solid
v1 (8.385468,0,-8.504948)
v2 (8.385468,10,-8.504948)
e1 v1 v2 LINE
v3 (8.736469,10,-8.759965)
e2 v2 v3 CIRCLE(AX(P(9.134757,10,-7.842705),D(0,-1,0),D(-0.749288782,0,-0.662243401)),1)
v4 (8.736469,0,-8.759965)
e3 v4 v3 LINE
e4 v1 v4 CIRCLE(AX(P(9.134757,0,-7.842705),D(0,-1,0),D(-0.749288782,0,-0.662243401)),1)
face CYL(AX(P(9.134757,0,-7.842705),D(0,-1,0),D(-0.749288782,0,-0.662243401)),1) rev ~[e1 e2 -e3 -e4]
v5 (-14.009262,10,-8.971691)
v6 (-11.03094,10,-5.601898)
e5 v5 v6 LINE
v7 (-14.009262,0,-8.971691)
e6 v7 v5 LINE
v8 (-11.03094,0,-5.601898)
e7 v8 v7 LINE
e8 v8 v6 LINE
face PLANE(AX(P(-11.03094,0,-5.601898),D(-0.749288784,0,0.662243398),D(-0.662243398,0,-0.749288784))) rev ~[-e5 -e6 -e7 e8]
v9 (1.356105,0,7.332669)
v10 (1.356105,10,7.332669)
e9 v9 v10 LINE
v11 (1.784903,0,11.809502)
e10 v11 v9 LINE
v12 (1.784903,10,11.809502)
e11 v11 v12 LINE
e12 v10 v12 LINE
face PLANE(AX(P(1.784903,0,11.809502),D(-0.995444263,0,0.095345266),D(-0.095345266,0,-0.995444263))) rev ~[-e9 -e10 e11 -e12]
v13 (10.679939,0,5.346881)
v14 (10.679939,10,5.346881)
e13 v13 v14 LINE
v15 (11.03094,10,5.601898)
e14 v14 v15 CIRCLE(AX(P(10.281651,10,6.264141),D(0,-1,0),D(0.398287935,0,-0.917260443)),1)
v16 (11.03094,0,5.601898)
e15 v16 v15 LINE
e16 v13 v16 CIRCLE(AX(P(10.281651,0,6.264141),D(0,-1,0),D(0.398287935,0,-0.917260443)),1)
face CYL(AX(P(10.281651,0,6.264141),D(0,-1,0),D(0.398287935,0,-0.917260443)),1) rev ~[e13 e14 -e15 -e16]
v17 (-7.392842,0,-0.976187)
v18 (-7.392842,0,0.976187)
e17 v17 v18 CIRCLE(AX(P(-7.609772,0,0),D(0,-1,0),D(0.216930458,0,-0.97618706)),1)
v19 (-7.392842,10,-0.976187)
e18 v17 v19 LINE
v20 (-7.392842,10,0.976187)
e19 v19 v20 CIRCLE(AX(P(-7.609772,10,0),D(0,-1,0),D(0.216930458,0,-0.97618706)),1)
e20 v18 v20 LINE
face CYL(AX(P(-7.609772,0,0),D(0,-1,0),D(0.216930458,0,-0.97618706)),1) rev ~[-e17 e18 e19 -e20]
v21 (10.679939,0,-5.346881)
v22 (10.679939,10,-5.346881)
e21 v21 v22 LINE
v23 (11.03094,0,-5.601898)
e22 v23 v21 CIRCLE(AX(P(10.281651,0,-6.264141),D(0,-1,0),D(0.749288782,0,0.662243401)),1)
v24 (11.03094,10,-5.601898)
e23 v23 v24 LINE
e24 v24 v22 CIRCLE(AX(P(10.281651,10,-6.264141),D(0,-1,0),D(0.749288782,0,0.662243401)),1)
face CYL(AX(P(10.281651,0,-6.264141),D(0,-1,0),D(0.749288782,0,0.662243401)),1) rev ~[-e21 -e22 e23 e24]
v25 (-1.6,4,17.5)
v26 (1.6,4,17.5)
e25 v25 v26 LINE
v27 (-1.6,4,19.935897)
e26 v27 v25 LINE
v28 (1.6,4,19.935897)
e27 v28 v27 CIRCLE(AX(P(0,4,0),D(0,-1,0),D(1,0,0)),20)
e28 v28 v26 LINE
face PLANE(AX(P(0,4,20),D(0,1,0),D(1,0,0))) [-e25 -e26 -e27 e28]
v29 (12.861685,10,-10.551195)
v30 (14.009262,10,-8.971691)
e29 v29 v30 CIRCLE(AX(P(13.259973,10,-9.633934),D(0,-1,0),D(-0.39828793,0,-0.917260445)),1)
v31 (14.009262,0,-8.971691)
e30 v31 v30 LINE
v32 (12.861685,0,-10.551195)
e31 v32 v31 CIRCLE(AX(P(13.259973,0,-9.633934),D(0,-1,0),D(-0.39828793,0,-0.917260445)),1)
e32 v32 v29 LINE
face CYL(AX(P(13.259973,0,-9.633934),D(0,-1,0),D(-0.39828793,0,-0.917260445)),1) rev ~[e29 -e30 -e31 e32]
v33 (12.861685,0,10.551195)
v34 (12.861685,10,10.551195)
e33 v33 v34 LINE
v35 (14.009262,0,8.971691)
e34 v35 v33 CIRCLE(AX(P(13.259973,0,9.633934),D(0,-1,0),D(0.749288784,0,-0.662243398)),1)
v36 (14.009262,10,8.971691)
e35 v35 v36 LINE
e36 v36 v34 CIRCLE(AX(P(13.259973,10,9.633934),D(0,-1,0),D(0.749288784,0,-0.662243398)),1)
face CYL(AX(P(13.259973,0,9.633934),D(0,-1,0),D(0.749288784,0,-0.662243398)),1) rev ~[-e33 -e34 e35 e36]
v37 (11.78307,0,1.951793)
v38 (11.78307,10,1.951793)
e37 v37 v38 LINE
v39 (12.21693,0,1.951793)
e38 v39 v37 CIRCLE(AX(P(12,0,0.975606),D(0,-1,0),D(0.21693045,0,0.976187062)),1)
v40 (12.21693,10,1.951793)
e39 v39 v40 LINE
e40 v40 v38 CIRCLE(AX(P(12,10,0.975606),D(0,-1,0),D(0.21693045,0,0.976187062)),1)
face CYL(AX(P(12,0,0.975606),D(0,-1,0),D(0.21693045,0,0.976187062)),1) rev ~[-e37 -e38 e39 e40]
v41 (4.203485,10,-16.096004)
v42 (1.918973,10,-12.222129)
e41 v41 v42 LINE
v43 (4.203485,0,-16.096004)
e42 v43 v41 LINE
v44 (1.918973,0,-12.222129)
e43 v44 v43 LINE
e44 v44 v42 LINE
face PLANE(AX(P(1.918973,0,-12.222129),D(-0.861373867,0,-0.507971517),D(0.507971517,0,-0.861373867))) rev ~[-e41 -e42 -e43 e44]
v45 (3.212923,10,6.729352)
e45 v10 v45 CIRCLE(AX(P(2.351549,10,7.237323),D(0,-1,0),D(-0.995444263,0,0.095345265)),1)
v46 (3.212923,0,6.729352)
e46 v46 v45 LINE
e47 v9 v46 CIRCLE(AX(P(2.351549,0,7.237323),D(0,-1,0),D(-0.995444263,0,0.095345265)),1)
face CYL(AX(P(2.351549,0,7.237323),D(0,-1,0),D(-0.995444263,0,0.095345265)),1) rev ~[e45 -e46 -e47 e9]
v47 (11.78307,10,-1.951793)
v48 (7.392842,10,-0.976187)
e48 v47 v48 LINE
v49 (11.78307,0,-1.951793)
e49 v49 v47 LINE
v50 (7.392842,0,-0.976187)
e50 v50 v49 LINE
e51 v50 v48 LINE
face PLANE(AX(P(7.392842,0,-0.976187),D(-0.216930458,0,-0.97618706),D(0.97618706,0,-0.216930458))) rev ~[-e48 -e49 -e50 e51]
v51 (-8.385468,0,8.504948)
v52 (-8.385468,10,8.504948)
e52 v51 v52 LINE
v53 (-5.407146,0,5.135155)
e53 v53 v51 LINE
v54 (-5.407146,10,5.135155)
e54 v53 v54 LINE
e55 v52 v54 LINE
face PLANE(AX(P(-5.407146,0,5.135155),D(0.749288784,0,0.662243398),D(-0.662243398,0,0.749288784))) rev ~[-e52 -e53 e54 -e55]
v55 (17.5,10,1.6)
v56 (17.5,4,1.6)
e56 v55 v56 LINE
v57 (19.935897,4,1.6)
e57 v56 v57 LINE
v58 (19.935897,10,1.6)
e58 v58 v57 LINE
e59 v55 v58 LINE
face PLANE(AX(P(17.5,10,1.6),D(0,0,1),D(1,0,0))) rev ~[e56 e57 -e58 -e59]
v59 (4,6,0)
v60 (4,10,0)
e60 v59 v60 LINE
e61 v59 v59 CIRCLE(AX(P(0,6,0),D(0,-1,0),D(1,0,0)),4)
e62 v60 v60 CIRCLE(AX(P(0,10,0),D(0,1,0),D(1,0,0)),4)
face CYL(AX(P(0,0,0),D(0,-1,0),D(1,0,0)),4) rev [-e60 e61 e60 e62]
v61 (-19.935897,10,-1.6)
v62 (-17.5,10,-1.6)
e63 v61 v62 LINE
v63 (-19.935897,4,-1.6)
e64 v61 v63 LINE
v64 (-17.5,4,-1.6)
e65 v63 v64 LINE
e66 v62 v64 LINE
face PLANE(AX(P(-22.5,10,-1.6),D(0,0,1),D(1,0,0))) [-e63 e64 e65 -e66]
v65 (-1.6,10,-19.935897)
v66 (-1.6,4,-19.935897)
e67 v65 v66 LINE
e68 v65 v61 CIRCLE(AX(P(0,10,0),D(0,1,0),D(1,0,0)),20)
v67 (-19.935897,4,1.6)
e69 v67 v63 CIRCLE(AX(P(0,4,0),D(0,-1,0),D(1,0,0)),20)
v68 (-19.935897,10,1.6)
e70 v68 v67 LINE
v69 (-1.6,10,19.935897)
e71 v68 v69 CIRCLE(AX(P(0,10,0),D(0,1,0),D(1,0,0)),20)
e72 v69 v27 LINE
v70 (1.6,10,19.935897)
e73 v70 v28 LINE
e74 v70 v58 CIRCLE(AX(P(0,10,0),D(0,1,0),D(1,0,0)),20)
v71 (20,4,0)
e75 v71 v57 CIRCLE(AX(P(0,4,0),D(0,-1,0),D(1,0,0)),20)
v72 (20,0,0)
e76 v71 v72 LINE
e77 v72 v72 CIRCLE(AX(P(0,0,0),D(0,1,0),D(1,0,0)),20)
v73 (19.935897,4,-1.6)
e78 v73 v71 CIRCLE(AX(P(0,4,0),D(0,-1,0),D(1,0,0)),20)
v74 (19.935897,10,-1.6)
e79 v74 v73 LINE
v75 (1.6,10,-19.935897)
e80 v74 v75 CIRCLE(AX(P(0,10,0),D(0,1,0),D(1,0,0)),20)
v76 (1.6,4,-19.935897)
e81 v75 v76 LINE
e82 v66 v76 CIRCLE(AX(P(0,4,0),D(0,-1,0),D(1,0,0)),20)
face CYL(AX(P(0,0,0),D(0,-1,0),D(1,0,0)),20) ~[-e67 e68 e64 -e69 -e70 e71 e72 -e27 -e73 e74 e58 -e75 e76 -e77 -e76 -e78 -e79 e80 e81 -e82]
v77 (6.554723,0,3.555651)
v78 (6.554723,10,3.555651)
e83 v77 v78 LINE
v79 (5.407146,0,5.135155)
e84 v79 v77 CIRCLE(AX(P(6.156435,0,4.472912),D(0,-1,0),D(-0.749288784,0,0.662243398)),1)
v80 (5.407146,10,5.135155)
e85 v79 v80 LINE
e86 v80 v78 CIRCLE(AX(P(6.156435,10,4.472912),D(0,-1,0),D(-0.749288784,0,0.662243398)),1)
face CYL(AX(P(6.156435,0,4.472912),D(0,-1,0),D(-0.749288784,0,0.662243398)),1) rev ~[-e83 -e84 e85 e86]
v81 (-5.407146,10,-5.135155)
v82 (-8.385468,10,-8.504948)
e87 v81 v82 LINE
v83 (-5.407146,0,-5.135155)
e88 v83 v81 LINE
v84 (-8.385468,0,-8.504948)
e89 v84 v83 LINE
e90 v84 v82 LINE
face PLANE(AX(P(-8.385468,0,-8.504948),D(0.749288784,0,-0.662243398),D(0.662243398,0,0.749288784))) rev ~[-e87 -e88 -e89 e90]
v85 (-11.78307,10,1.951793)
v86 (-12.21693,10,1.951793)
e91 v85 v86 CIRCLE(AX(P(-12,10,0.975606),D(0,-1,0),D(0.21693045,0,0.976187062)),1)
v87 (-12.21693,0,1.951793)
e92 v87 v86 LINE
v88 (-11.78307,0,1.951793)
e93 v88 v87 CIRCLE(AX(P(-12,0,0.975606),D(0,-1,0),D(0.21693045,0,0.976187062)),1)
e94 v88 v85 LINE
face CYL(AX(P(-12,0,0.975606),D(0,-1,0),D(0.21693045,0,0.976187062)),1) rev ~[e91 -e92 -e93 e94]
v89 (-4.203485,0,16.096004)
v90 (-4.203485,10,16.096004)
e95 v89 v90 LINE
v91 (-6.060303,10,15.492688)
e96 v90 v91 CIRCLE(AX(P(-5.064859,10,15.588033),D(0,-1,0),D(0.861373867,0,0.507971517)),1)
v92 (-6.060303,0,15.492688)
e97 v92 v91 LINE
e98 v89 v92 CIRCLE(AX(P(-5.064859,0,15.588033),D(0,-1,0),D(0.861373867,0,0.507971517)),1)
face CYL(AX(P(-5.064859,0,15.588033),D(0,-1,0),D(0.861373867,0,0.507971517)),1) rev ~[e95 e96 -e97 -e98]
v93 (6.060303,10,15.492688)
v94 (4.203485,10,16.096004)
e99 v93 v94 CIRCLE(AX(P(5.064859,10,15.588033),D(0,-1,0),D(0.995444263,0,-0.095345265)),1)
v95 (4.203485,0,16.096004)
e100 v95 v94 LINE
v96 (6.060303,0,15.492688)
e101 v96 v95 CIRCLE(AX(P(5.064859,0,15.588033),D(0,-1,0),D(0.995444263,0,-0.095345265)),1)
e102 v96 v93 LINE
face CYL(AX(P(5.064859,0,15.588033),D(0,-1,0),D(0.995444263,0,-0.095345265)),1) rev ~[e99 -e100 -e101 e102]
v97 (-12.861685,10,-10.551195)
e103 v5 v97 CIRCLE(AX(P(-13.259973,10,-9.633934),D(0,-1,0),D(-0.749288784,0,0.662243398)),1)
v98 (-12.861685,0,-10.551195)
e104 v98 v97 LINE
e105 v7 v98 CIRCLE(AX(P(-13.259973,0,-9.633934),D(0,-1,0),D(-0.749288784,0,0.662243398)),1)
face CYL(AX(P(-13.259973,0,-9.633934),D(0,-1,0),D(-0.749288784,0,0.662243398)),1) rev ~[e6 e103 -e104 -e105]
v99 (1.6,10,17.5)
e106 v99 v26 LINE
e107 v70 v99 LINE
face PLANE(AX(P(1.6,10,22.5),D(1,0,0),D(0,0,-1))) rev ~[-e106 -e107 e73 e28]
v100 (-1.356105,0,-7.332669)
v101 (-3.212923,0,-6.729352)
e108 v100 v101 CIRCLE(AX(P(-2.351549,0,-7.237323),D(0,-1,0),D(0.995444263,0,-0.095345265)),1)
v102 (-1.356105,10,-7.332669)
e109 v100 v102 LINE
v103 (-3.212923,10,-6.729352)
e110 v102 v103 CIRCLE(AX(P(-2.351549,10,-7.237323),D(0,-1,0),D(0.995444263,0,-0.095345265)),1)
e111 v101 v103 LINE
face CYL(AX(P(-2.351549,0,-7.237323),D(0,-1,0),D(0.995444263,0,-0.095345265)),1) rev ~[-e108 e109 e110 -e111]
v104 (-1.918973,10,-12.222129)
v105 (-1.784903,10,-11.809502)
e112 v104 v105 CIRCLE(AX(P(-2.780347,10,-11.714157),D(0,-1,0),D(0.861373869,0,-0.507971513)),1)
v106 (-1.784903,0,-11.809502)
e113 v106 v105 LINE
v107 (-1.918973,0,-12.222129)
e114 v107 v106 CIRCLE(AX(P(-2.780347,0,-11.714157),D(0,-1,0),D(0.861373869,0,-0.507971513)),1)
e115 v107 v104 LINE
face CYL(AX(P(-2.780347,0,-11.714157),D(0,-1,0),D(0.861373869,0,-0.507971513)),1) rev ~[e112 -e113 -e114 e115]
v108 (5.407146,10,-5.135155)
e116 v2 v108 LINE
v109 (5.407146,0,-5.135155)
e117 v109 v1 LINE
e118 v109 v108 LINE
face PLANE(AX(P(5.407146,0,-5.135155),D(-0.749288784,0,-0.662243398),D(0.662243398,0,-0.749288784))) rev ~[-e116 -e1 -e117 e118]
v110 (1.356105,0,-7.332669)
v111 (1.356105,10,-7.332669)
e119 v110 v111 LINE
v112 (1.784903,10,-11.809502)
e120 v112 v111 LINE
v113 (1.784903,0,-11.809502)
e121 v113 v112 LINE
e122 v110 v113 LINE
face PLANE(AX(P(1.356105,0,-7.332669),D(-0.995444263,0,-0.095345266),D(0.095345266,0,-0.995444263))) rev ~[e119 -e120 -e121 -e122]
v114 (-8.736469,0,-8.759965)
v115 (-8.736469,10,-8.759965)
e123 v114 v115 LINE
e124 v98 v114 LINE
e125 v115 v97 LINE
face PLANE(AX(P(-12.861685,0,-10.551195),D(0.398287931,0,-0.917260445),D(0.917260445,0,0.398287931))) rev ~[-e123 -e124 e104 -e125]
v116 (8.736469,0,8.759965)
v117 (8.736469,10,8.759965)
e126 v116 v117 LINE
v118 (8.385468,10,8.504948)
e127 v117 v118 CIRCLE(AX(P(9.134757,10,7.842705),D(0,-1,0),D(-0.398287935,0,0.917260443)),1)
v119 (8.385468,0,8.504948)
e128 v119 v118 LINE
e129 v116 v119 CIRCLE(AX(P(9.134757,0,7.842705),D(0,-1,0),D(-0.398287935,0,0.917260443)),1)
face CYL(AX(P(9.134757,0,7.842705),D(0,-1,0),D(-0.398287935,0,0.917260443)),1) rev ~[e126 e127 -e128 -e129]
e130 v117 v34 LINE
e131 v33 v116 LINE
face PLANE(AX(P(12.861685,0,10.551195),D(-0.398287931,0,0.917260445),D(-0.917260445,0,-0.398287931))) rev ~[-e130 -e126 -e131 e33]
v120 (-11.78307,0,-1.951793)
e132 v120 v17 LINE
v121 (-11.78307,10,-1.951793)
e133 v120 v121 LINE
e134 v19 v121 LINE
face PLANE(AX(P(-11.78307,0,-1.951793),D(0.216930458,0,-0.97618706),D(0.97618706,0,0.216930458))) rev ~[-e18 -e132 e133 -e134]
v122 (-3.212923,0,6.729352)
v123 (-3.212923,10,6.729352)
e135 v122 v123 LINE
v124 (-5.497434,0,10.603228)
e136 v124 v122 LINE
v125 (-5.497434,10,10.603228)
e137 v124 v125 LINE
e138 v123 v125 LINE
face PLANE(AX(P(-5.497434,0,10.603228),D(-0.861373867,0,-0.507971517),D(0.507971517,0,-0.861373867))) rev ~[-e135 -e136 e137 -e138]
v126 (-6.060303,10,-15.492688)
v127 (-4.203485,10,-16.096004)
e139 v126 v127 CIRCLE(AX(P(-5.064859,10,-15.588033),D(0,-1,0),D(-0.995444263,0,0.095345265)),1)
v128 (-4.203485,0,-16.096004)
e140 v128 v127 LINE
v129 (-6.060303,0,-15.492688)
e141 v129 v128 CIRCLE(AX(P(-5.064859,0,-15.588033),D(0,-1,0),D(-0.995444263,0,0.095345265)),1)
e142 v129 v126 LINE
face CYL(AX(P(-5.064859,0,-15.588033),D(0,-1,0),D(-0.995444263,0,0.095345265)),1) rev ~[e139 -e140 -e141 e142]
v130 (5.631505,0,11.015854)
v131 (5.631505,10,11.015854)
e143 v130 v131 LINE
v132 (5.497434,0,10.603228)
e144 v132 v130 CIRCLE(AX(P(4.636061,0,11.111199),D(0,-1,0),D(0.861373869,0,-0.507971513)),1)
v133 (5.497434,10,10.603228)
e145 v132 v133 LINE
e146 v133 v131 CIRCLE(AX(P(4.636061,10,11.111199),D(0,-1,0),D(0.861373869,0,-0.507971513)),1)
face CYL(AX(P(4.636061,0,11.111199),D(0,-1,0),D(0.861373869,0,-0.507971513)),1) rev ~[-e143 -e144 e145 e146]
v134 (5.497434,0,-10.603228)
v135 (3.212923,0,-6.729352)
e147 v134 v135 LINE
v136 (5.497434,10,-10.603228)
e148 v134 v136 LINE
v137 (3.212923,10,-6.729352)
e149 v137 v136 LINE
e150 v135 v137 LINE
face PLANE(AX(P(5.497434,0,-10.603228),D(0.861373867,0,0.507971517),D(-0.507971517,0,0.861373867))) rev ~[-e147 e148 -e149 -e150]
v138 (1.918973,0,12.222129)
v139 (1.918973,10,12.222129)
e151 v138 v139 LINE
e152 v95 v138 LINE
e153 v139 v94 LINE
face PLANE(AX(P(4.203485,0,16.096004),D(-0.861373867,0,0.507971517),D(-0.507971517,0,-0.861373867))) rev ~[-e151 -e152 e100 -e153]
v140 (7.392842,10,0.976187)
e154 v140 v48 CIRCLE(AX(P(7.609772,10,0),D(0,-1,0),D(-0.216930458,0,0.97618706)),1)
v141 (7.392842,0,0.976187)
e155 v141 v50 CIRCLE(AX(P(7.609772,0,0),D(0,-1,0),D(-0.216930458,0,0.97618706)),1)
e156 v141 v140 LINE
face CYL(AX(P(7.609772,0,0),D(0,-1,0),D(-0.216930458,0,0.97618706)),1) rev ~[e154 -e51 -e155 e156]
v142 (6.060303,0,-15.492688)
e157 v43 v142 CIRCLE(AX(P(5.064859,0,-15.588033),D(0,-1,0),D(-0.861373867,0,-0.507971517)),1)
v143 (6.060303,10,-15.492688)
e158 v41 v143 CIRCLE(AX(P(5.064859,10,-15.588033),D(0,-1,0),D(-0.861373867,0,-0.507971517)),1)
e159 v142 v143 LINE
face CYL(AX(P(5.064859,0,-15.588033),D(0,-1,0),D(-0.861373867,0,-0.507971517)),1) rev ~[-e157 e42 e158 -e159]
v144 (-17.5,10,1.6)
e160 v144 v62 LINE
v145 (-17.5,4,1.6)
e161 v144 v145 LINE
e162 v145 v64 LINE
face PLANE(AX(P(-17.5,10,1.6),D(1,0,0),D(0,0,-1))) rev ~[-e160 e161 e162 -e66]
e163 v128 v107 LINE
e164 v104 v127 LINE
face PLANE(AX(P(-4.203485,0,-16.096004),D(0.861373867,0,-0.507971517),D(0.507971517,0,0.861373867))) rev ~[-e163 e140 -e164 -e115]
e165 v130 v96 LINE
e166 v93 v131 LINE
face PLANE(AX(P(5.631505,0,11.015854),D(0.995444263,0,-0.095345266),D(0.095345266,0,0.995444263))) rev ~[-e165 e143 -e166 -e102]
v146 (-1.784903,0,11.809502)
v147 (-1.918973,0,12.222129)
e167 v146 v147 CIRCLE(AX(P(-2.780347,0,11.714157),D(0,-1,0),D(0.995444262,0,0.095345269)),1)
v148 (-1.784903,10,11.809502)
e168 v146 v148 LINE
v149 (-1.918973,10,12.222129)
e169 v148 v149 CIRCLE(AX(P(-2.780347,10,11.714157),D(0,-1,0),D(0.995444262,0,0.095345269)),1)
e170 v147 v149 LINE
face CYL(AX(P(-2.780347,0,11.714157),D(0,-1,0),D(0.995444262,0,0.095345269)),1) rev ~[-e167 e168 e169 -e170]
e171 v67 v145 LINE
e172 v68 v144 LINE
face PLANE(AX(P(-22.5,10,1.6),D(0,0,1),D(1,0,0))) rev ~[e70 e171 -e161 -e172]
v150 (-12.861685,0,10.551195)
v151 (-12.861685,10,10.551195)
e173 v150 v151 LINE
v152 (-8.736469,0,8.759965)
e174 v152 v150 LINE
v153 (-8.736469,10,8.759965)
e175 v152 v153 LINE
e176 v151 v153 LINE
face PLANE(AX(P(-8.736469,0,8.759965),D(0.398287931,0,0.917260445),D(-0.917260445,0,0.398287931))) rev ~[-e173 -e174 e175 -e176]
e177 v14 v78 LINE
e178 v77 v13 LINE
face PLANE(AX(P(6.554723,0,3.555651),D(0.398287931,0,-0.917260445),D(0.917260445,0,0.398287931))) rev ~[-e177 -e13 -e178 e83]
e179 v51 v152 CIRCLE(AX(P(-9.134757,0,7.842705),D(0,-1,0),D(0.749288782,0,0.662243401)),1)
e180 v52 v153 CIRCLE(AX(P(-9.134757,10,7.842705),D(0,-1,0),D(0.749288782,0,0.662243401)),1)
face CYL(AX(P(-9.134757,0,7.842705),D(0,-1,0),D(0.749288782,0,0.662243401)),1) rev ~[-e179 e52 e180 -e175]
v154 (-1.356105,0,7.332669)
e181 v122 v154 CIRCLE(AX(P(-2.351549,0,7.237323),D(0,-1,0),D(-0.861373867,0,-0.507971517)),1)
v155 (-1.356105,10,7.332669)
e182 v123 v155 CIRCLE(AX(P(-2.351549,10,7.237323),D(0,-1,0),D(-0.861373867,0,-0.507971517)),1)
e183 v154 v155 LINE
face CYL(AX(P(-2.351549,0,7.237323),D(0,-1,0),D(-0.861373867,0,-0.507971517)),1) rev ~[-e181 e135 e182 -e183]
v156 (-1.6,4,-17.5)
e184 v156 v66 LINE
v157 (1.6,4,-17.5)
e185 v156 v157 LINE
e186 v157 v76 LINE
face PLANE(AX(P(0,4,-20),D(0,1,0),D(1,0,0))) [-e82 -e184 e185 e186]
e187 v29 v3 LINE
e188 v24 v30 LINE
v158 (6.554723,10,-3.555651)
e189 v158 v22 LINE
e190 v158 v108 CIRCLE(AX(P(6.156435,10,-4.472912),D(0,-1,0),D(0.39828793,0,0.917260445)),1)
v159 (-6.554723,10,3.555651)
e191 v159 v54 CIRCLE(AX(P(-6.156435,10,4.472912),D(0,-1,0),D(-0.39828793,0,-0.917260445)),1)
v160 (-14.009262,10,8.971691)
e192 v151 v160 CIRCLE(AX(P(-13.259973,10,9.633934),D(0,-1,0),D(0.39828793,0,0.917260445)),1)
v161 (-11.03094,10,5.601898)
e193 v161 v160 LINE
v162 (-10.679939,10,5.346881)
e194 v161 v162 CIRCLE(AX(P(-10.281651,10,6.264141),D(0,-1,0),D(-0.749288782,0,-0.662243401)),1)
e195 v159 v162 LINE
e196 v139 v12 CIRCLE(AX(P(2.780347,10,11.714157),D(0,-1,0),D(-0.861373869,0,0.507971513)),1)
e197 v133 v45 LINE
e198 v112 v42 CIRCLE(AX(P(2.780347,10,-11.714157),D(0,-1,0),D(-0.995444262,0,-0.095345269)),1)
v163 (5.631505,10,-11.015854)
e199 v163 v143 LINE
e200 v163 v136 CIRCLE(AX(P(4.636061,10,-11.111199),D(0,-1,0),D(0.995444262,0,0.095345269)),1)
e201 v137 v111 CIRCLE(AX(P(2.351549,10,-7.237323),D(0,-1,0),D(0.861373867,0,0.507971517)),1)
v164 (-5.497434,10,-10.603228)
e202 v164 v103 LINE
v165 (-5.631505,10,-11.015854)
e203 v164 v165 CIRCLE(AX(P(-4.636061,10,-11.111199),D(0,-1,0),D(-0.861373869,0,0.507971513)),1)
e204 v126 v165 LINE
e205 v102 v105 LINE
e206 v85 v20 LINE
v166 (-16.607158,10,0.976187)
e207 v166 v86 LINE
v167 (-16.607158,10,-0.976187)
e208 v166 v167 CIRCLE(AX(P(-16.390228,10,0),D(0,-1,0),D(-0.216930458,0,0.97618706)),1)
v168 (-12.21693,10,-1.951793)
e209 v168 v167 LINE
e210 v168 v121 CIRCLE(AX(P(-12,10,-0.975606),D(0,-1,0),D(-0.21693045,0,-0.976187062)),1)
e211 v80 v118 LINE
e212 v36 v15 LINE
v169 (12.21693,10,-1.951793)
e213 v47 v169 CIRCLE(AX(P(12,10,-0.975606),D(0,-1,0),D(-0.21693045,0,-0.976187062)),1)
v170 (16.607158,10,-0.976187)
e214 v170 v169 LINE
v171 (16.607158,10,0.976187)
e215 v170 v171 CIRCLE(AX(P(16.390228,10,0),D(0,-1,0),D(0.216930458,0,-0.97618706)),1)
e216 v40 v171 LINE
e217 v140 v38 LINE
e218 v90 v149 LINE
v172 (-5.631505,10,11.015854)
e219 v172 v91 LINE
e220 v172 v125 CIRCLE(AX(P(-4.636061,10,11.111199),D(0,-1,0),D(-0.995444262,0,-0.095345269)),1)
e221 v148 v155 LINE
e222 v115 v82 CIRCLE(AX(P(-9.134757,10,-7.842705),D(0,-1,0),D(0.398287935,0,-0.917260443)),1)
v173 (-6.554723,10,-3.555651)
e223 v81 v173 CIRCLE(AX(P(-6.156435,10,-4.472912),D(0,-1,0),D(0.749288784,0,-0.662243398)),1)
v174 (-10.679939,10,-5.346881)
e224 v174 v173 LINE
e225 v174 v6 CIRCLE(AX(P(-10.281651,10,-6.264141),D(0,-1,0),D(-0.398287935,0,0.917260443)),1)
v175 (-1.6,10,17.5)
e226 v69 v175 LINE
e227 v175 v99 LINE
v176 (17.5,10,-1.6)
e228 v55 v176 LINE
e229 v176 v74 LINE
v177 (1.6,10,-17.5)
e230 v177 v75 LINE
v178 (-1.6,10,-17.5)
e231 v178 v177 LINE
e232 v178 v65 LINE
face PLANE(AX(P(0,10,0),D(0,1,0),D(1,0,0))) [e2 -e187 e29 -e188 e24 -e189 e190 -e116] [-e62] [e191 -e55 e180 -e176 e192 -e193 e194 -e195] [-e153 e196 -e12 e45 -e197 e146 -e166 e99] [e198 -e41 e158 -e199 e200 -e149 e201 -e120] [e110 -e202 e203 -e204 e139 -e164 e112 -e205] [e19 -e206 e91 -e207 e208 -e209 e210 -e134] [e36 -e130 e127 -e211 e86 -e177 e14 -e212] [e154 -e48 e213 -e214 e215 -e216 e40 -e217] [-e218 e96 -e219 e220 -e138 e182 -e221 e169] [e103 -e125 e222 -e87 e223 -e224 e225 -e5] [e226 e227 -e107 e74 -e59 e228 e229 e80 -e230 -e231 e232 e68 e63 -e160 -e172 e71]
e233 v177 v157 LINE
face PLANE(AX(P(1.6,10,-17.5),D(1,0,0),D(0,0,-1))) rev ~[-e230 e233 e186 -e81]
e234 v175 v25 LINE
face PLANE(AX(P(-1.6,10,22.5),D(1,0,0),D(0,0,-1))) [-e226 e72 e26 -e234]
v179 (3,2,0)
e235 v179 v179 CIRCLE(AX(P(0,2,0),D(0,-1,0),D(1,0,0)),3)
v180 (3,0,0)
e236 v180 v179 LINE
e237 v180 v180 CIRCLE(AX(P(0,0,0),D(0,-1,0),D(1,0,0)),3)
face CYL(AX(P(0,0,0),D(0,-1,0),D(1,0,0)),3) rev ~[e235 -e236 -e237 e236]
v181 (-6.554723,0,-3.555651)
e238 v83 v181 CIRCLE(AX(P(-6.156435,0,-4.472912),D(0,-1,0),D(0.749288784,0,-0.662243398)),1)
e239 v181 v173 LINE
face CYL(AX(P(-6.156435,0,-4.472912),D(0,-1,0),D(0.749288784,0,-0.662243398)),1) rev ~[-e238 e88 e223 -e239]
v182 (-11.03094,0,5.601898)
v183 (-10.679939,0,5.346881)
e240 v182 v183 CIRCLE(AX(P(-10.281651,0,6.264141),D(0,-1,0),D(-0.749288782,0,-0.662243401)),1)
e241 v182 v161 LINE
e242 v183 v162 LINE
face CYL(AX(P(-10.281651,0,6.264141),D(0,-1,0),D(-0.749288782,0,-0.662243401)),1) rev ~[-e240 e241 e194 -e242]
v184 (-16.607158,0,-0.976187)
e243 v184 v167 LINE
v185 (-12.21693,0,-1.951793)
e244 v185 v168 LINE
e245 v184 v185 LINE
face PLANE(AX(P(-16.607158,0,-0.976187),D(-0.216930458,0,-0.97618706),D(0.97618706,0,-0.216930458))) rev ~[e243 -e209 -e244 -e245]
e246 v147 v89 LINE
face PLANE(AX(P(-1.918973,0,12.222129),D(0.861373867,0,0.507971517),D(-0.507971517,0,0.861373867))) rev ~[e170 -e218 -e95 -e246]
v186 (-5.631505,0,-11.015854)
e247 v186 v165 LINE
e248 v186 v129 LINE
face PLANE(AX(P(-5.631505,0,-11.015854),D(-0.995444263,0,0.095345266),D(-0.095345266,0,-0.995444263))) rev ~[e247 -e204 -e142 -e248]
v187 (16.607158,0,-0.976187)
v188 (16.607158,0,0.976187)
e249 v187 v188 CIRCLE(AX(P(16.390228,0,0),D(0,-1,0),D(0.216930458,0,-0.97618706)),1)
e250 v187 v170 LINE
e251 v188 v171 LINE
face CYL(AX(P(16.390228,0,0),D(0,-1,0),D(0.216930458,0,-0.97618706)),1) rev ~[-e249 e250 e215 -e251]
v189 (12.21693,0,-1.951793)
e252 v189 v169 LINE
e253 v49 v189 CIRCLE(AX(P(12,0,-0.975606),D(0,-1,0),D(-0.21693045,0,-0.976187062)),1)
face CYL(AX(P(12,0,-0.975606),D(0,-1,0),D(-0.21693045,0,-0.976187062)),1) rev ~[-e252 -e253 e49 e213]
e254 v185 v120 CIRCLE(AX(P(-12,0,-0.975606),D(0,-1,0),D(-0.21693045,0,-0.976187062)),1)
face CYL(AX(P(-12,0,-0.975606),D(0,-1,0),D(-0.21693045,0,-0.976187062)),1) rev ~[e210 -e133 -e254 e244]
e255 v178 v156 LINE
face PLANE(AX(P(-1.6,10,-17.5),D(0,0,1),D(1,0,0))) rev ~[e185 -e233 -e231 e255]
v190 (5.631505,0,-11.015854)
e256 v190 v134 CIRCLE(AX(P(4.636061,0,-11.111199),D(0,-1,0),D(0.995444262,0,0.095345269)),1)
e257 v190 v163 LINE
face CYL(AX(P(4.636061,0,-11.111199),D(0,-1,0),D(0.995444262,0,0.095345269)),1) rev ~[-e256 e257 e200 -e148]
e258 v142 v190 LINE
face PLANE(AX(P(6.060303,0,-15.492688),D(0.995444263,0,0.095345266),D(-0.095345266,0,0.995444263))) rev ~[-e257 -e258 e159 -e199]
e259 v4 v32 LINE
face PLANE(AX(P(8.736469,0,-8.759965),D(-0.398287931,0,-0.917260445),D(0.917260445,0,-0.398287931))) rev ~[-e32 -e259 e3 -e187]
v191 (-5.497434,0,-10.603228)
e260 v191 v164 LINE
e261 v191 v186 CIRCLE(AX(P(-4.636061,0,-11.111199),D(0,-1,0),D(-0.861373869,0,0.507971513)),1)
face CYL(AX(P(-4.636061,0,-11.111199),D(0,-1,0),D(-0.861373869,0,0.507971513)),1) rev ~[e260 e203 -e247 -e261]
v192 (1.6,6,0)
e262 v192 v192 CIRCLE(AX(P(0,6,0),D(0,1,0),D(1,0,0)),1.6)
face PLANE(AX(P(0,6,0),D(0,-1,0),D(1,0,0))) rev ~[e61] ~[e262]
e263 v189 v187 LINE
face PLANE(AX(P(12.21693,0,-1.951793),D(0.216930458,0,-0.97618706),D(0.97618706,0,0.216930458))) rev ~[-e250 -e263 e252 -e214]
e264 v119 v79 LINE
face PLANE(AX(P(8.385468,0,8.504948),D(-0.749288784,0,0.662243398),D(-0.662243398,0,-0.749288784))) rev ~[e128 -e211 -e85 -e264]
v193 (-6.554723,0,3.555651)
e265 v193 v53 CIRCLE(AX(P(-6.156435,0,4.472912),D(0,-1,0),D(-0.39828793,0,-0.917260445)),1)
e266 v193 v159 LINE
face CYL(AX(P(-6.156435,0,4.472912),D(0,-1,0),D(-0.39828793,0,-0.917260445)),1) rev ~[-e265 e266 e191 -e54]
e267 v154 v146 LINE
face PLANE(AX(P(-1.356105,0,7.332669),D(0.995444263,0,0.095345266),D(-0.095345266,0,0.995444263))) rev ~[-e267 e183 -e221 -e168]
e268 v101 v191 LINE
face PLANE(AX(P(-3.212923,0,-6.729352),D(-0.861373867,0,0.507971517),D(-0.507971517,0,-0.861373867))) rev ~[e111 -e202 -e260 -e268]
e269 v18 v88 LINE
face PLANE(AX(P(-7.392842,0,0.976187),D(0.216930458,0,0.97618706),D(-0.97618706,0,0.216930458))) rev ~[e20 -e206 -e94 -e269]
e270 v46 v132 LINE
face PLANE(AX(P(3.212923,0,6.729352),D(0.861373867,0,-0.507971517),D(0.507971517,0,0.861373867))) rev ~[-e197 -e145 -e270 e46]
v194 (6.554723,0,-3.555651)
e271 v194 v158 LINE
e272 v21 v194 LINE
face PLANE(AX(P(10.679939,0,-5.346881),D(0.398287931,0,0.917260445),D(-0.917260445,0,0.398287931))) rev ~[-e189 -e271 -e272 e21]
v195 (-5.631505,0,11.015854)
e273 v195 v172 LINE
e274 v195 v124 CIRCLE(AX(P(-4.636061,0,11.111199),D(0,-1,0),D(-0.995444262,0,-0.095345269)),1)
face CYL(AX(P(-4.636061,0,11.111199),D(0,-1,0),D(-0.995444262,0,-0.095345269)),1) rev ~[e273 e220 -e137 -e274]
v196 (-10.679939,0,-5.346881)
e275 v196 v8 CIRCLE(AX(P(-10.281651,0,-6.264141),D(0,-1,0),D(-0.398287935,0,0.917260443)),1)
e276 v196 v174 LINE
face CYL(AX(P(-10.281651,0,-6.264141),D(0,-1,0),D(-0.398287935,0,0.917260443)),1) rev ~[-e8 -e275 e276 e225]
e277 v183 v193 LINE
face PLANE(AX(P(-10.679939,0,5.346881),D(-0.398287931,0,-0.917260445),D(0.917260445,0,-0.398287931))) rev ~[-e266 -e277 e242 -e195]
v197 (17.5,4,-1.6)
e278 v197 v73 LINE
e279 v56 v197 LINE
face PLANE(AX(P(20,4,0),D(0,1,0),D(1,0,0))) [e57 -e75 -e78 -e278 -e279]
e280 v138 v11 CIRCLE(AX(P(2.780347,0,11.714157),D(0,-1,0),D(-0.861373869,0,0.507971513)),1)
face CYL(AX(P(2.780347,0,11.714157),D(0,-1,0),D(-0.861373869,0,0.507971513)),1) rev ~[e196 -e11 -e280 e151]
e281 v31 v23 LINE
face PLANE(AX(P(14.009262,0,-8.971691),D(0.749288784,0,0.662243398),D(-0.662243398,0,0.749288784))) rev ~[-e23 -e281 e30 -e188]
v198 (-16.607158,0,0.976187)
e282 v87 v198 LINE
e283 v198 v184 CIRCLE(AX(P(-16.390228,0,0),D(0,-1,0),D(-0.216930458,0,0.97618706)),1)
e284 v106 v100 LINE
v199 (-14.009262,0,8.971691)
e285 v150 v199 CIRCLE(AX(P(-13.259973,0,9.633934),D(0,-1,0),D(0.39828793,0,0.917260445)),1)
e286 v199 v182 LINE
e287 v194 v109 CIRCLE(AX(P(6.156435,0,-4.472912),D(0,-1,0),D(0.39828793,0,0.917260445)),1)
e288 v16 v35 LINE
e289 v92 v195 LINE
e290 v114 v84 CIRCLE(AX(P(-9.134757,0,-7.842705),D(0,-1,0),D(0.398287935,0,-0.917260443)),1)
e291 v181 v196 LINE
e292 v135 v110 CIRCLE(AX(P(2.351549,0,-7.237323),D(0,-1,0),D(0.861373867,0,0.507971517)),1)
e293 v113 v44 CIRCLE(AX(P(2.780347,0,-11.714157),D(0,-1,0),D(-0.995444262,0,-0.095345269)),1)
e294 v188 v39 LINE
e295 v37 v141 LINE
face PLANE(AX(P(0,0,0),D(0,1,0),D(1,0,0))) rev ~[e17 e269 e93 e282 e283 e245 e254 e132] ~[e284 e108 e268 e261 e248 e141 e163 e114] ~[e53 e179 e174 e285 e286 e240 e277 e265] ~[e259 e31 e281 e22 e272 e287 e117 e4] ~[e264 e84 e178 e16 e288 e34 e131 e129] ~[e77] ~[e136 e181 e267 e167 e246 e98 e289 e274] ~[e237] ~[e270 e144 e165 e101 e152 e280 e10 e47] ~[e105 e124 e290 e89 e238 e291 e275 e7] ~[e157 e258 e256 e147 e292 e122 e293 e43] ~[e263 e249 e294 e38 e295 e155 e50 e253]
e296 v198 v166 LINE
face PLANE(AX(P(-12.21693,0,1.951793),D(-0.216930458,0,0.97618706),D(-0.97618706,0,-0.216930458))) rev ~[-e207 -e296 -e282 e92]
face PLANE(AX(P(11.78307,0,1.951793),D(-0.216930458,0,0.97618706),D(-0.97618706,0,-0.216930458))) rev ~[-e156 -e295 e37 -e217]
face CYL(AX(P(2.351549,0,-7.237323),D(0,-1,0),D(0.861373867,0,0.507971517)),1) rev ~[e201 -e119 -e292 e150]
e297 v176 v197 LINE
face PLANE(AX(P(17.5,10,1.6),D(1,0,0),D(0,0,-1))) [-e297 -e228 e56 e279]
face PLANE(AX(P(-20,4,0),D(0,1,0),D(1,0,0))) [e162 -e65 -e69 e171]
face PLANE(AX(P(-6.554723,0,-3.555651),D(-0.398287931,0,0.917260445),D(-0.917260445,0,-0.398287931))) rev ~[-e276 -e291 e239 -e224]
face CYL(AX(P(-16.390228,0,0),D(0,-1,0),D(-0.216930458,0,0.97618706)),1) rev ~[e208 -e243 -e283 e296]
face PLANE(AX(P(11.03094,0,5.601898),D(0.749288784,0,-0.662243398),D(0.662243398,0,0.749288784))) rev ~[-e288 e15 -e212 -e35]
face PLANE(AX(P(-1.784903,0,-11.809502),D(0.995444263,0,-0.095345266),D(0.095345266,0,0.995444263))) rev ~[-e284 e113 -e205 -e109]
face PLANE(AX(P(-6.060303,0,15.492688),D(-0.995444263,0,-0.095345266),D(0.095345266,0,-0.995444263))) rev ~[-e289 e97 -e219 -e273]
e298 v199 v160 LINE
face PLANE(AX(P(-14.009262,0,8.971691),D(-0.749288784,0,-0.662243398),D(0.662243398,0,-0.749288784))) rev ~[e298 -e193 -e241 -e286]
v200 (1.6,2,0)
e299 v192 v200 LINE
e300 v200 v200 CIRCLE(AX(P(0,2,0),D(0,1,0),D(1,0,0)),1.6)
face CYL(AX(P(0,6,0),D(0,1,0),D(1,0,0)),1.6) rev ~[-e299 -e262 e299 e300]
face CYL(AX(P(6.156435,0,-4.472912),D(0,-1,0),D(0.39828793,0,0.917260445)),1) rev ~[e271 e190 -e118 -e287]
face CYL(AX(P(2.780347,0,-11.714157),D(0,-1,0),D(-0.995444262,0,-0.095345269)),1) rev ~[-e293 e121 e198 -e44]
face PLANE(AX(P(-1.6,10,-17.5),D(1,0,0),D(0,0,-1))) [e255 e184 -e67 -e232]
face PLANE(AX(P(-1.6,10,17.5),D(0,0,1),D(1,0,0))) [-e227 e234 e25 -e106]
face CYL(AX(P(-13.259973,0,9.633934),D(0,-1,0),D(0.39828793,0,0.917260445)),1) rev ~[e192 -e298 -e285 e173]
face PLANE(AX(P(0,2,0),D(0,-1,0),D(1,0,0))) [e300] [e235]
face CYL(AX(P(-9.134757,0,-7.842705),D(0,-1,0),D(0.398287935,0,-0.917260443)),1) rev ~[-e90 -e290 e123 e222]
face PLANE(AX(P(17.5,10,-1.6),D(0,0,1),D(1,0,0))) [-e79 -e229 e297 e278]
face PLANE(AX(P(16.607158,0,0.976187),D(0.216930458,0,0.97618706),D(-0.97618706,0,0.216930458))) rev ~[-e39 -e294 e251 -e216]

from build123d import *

# Parameters (mm, degrees)
SKETCH_1_R               = 20
SKETCH_1_R_2             = 4
EXTRUDE_1_DEPTH          = 10
SKETCH_4_R               = 20
EXTRUDE_2_DEPTH          = 6
SKETCH_5_R               = 1.6
CUT_EXTRUDE_2_DEPTH      = 5
CUT_EXTRUDE_2_DEPTH_BACK = 7
CUT_EXTRUDE_3_DEPTH      = 1
CUT_EXTRUDE_3_DEPTH_BACK = 11
SKETCH_8_W               = 3.2
SKETCH_8_H               = 5
SKETCH_8_W_2             = 5
SKETCH_8_H_2             = 3.2
CUT_EXTRUDE_4_DEPTH      = 6
SKETCH_9_R               = 3
CUT_EXTRUDE_5_DEPTH      = 2


with BuildPart() as part:
    # Эскиз1 → Бобышка-Вытянуть1 (new body)
    with BuildSketch(Plane(origin=(0, 0, 0), x_dir=(1, 0, 0), z_dir=(0, 1, 0))):
        Circle(SKETCH_1_R)
        Circle(SKETCH_1_R_2, mode=Mode.SUBTRACT)
    extrude(amount=EXTRUDE_1_DEPTH)

    # Эскиз4 → Бобышка-Вытянуть2 (add)
    with BuildSketch(Plane.XZ):
        Circle(SKETCH_4_R)
    extrude(amount=-EXTRUDE_2_DEPTH)

    # Эскиз5 → Вырез-Вытянуть2 (cut, two sides)
    with BuildSketch(Plane(origin=(0, 6, 0), x_dir=(1, 0, 0), z_dir=(0, 1, 0))) as cut_extrude_2_sk:
        Circle(SKETCH_5_R)
    extrude(amount=CUT_EXTRUDE_2_DEPTH, mode=Mode.SUBTRACT)
    extrude(cut_extrude_2_sk.sketch, amount=-CUT_EXTRUDE_2_DEPTH_BACK, mode=Mode.SUBTRACT)

    # Эскиз6 → Вырез-Вытянуть3 (cut, two sides)
    with BuildSketch(Plane.XZ) as cut_extrude_3_sk:
        with BuildLine():
            Line((-7.392841771, 0.97618706), (-11.783069542, 1.951793232))
            ThreePointArc((-11.783069542, 1.951793232), (-12, 1.975606171), (-12.216930458, 1.951793232))
            Line((-12.216930458, 1.951793232), (-16.607158229, 0.97618706))
            ThreePointArc((-16.607158229, 0.97618706), (-17.390227771, 0), (-16.607158229, -0.97618706))
            Line((-16.607158229, -0.97618706), (-12.216930458, -1.951793232))
            ThreePointArc((-12.216930458, -1.951793232), (-12, -1.975606171), (-11.783069542, -1.951793232))
            Line((-11.783069542, -1.951793232), (-7.392841771, -0.97618706))
            ThreePointArc((-7.392841771, -0.97618706), (-6.609772229, 0), (-7.392841771, 0.97618706))
        make_face()
        with BuildLine():
            Line((-5.407146272, 5.135155287), (-8.385468228, 8.504948397))
            ThreePointArc((-8.385468228, 8.504948397), (-8.546971761, 8.651721994), (-8.736469082, 8.759965445))
            Line((-8.736469082, 8.759965445), (-12.861684878, 10.551194611))
            ThreePointArc((-12.861684878, 10.551194611), (-14.068989803, 10.221719418), (-14.009261593, 8.971690768))
            Line((-14.009261593, 8.971690768), (-11.030939637, 5.601897658))
            ThreePointArc((-11.030939637, 5.601897658), (-10.869436104, 5.455124061), (-10.679938783, 5.34688061))
            Line((-10.679938783, 5.34688061), (-6.554722987, 3.555651444))
            ThreePointArc((-6.554722987, 3.555651444), (-5.347418062, 3.885126637), (-5.407146272, 5.135155287))
        make_face()
        with BuildLine():
            Line((-1.356104679, 7.332668731), (-1.784903063, 11.809502348))
            ThreePointArc((-1.784903063, 11.809502348), (-1.82929081, 12.023174077), (-1.918973459, 12.222128599))
            Line((-1.918973459, 12.222128599), (-4.203485056, 16.096004442))
            ThreePointArc((-4.203485056, 16.096004442), (-5.373875917, 16.539089442), (-6.060303186, 15.49268766))
            Line((-6.060303186, 15.49268766), (-5.631504802, 11.015854043))
            ThreePointArc((-5.631504802, 11.015854043), (-5.587117055, 10.802182314), (-5.497434406, 10.603227792))
            Line((-5.497434406, 10.603227792), (-3.212922809, 6.729351949))
            ThreePointArc((-3.212922809, 6.729351949), (-2.042531948, 6.286266949), (-1.356104679, 7.332668731))
        make_face()
        with BuildLine():
            Line((3.212922809, 6.729351949), (5.497434406, 10.603227792))
            ThreePointArc((5.497434406, 10.603227792), (5.587117055, 10.802182314), (5.631504802, 11.015854043))
            Line((5.631504802, 11.015854043), (6.060303186, 15.49268766))
            ThreePointArc((6.060303186, 15.49268766), (5.373875917, 16.539089442), (4.203485056, 16.096004442))
            Line((4.203485056, 16.096004442), (1.918973459, 12.222128599))
            ThreePointArc((1.918973459, 12.222128599), (1.82929081, 12.023174077), (1.784903063, 11.809502348))
            Line((1.784903063, 11.809502348), (1.356104679, 7.332668731))
            ThreePointArc((1.356104679, 7.332668731), (2.042531948, 6.286266949), (3.212922809, 6.729351949))
        make_face()
        with BuildLine():
            Line((6.554722987, 3.555651444), (10.679938783, 5.34688061))
            ThreePointArc((10.679938783, 5.34688061), (10.869436104, 5.455124061), (11.030939637, 5.601897658))
            Line((11.030939637, 5.601897658), (14.009261593, 8.971690768))
            ThreePointArc((14.009261593, 8.971690768), (14.068989803, 10.221719418), (12.861684878, 10.551194611))
            Line((12.861684878, 10.551194611), (8.736469082, 8.759965445))
            ThreePointArc((8.736469082, 8.759965445), (8.546971761, 8.651721994), (8.385468228, 8.504948397))
            Line((8.385468228, 8.504948397), (5.407146272, 5.135155287))
            ThreePointArc((5.407146272, 5.135155287), (5.347418062, 3.885126637), (6.554722987, 3.555651444))
        make_face()
        with BuildLine():
            Line((7.392841771, -0.97618706), (11.783069542, -1.951793232))
            ThreePointArc((11.783069542, -1.951793232), (12, -1.975606171), (12.216930458, -1.951793232))
            Line((12.216930458, -1.951793232), (16.607158229, -0.97618706))
            ThreePointArc((16.607158229, -0.97618706), (17.390227771, 0), (16.607158229, 0.97618706))
            Line((16.607158229, 0.97618706), (12.216930458, 1.951793232))
            ThreePointArc((12.216930458, 1.951793232), (12, 1.975606171), (11.783069542, 1.951793232))
            Line((11.783069542, 1.951793232), (7.392841771, 0.97618706))
            ThreePointArc((7.392841771, 0.97618706), (6.609772229, 0), (7.392841771, -0.97618706))
        make_face()
        with BuildLine():
            Line((5.407146272, -5.135155287), (8.385468228, -8.504948397))
            ThreePointArc((8.385468228, -8.504948397), (8.546971761, -8.651721994), (8.736469082, -8.759965445))
            Line((8.736469082, -8.759965445), (12.861684878, -10.551194611))
            ThreePointArc((12.861684878, -10.551194611), (14.068989803, -10.221719418), (14.009261593, -8.971690768))
            Line((14.009261593, -8.971690768), (11.030939637, -5.601897658))
            ThreePointArc((11.030939637, -5.601897658), (10.869436104, -5.455124061), (10.679938783, -5.34688061))
            Line((10.679938783, -5.34688061), (6.554722987, -3.555651444))
            ThreePointArc((6.554722987, -3.555651444), (5.347418062, -3.885126637), (5.407146272, -5.135155287))
        make_face()
        with BuildLine():
            Line((1.356104679, -7.332668731), (1.784903063, -11.809502348))
            ThreePointArc((1.784903063, -11.809502348), (1.82929081, -12.023174077), (1.918973459, -12.222128599))
            Line((1.918973459, -12.222128599), (4.203485056, -16.096004442))
            ThreePointArc((4.203485056, -16.096004442), (5.373875917, -16.539089442), (6.060303186, -15.49268766))
            Line((6.060303186, -15.49268766), (5.631504802, -11.015854043))
            ThreePointArc((5.631504802, -11.015854043), (5.587117055, -10.802182314), (5.497434406, -10.603227792))
            Line((5.497434406, -10.603227792), (3.212922809, -6.729351949))
            ThreePointArc((3.212922809, -6.729351949), (2.042531948, -6.286266949), (1.356104679, -7.332668731))
        make_face()
        with BuildLine():
            Line((-3.212922809, -6.729351949), (-5.497434406, -10.603227792))
            ThreePointArc((-5.497434406, -10.603227792), (-5.587117055, -10.802182314), (-5.631504802, -11.015854043))
            Line((-5.631504802, -11.015854043), (-6.060303186, -15.49268766))
            ThreePointArc((-6.060303186, -15.49268766), (-5.373875917, -16.539089442), (-4.203485056, -16.096004442))
            Line((-4.203485056, -16.096004442), (-1.918973459, -12.222128599))
            ThreePointArc((-1.918973459, -12.222128599), (-1.82929081, -12.023174077), (-1.784903063, -11.809502348))
            Line((-1.784903063, -11.809502348), (-1.356104679, -7.332668731))
            ThreePointArc((-1.356104679, -7.332668731), (-2.042531948, -6.286266949), (-3.212922809, -6.729351949))
        make_face()
        with BuildLine():
            Line((-6.554722987, -3.555651444), (-10.679938783, -5.34688061))
            ThreePointArc((-10.679938783, -5.34688061), (-10.869436104, -5.455124061), (-11.030939637, -5.601897658))
            Line((-11.030939637, -5.601897658), (-14.009261593, -8.971690768))
            ThreePointArc((-14.009261593, -8.971690768), (-14.068989803, -10.221719418), (-12.861684878, -10.551194611))
            Line((-12.861684878, -10.551194611), (-8.736469082, -8.759965445))
            ThreePointArc((-8.736469082, -8.759965445), (-8.546971761, -8.651721994), (-8.385468228, -8.504948397))
            Line((-8.385468228, -8.504948397), (-5.407146272, -5.135155287))
            ThreePointArc((-5.407146272, -5.135155287), (-5.347418062, -3.885126637), (-6.554722987, -3.555651444))
        make_face()
    extrude(amount=CUT_EXTRUDE_3_DEPTH, mode=Mode.SUBTRACT)
    extrude(cut_extrude_3_sk.sketch, amount=-CUT_EXTRUDE_3_DEPTH_BACK, mode=Mode.SUBTRACT)

    # Эскиз8 → Вырез-Вытянуть4 (cut)
    with BuildSketch(Plane(origin=(0, 10, 0), x_dir=(1, 0, 0), z_dir=(0, 1, 0))):
        with Locations((0, 20)):
            Rectangle(SKETCH_8_W, SKETCH_8_H)
        with Locations((-20, 0)):
            Rectangle(SKETCH_8_W_2, SKETCH_8_H_2)
        with Locations((20, 0)):
            Rectangle(SKETCH_8_W_2, SKETCH_8_H_2)
        with Locations((0, -20)):
            Rectangle(SKETCH_8_W, SKETCH_8_H)
    extrude(amount=-CUT_EXTRUDE_4_DEPTH, mode=Mode.SUBTRACT)

    # Эскиз9 → Вырез-Вытянуть5 (cut)
    with BuildSketch(Plane.XZ):
        Circle(SKETCH_9_R)
    extrude(amount=-CUT_EXTRUDE_5_DEPTH, mode=Mode.SUBTRACT)


solid = part.part
